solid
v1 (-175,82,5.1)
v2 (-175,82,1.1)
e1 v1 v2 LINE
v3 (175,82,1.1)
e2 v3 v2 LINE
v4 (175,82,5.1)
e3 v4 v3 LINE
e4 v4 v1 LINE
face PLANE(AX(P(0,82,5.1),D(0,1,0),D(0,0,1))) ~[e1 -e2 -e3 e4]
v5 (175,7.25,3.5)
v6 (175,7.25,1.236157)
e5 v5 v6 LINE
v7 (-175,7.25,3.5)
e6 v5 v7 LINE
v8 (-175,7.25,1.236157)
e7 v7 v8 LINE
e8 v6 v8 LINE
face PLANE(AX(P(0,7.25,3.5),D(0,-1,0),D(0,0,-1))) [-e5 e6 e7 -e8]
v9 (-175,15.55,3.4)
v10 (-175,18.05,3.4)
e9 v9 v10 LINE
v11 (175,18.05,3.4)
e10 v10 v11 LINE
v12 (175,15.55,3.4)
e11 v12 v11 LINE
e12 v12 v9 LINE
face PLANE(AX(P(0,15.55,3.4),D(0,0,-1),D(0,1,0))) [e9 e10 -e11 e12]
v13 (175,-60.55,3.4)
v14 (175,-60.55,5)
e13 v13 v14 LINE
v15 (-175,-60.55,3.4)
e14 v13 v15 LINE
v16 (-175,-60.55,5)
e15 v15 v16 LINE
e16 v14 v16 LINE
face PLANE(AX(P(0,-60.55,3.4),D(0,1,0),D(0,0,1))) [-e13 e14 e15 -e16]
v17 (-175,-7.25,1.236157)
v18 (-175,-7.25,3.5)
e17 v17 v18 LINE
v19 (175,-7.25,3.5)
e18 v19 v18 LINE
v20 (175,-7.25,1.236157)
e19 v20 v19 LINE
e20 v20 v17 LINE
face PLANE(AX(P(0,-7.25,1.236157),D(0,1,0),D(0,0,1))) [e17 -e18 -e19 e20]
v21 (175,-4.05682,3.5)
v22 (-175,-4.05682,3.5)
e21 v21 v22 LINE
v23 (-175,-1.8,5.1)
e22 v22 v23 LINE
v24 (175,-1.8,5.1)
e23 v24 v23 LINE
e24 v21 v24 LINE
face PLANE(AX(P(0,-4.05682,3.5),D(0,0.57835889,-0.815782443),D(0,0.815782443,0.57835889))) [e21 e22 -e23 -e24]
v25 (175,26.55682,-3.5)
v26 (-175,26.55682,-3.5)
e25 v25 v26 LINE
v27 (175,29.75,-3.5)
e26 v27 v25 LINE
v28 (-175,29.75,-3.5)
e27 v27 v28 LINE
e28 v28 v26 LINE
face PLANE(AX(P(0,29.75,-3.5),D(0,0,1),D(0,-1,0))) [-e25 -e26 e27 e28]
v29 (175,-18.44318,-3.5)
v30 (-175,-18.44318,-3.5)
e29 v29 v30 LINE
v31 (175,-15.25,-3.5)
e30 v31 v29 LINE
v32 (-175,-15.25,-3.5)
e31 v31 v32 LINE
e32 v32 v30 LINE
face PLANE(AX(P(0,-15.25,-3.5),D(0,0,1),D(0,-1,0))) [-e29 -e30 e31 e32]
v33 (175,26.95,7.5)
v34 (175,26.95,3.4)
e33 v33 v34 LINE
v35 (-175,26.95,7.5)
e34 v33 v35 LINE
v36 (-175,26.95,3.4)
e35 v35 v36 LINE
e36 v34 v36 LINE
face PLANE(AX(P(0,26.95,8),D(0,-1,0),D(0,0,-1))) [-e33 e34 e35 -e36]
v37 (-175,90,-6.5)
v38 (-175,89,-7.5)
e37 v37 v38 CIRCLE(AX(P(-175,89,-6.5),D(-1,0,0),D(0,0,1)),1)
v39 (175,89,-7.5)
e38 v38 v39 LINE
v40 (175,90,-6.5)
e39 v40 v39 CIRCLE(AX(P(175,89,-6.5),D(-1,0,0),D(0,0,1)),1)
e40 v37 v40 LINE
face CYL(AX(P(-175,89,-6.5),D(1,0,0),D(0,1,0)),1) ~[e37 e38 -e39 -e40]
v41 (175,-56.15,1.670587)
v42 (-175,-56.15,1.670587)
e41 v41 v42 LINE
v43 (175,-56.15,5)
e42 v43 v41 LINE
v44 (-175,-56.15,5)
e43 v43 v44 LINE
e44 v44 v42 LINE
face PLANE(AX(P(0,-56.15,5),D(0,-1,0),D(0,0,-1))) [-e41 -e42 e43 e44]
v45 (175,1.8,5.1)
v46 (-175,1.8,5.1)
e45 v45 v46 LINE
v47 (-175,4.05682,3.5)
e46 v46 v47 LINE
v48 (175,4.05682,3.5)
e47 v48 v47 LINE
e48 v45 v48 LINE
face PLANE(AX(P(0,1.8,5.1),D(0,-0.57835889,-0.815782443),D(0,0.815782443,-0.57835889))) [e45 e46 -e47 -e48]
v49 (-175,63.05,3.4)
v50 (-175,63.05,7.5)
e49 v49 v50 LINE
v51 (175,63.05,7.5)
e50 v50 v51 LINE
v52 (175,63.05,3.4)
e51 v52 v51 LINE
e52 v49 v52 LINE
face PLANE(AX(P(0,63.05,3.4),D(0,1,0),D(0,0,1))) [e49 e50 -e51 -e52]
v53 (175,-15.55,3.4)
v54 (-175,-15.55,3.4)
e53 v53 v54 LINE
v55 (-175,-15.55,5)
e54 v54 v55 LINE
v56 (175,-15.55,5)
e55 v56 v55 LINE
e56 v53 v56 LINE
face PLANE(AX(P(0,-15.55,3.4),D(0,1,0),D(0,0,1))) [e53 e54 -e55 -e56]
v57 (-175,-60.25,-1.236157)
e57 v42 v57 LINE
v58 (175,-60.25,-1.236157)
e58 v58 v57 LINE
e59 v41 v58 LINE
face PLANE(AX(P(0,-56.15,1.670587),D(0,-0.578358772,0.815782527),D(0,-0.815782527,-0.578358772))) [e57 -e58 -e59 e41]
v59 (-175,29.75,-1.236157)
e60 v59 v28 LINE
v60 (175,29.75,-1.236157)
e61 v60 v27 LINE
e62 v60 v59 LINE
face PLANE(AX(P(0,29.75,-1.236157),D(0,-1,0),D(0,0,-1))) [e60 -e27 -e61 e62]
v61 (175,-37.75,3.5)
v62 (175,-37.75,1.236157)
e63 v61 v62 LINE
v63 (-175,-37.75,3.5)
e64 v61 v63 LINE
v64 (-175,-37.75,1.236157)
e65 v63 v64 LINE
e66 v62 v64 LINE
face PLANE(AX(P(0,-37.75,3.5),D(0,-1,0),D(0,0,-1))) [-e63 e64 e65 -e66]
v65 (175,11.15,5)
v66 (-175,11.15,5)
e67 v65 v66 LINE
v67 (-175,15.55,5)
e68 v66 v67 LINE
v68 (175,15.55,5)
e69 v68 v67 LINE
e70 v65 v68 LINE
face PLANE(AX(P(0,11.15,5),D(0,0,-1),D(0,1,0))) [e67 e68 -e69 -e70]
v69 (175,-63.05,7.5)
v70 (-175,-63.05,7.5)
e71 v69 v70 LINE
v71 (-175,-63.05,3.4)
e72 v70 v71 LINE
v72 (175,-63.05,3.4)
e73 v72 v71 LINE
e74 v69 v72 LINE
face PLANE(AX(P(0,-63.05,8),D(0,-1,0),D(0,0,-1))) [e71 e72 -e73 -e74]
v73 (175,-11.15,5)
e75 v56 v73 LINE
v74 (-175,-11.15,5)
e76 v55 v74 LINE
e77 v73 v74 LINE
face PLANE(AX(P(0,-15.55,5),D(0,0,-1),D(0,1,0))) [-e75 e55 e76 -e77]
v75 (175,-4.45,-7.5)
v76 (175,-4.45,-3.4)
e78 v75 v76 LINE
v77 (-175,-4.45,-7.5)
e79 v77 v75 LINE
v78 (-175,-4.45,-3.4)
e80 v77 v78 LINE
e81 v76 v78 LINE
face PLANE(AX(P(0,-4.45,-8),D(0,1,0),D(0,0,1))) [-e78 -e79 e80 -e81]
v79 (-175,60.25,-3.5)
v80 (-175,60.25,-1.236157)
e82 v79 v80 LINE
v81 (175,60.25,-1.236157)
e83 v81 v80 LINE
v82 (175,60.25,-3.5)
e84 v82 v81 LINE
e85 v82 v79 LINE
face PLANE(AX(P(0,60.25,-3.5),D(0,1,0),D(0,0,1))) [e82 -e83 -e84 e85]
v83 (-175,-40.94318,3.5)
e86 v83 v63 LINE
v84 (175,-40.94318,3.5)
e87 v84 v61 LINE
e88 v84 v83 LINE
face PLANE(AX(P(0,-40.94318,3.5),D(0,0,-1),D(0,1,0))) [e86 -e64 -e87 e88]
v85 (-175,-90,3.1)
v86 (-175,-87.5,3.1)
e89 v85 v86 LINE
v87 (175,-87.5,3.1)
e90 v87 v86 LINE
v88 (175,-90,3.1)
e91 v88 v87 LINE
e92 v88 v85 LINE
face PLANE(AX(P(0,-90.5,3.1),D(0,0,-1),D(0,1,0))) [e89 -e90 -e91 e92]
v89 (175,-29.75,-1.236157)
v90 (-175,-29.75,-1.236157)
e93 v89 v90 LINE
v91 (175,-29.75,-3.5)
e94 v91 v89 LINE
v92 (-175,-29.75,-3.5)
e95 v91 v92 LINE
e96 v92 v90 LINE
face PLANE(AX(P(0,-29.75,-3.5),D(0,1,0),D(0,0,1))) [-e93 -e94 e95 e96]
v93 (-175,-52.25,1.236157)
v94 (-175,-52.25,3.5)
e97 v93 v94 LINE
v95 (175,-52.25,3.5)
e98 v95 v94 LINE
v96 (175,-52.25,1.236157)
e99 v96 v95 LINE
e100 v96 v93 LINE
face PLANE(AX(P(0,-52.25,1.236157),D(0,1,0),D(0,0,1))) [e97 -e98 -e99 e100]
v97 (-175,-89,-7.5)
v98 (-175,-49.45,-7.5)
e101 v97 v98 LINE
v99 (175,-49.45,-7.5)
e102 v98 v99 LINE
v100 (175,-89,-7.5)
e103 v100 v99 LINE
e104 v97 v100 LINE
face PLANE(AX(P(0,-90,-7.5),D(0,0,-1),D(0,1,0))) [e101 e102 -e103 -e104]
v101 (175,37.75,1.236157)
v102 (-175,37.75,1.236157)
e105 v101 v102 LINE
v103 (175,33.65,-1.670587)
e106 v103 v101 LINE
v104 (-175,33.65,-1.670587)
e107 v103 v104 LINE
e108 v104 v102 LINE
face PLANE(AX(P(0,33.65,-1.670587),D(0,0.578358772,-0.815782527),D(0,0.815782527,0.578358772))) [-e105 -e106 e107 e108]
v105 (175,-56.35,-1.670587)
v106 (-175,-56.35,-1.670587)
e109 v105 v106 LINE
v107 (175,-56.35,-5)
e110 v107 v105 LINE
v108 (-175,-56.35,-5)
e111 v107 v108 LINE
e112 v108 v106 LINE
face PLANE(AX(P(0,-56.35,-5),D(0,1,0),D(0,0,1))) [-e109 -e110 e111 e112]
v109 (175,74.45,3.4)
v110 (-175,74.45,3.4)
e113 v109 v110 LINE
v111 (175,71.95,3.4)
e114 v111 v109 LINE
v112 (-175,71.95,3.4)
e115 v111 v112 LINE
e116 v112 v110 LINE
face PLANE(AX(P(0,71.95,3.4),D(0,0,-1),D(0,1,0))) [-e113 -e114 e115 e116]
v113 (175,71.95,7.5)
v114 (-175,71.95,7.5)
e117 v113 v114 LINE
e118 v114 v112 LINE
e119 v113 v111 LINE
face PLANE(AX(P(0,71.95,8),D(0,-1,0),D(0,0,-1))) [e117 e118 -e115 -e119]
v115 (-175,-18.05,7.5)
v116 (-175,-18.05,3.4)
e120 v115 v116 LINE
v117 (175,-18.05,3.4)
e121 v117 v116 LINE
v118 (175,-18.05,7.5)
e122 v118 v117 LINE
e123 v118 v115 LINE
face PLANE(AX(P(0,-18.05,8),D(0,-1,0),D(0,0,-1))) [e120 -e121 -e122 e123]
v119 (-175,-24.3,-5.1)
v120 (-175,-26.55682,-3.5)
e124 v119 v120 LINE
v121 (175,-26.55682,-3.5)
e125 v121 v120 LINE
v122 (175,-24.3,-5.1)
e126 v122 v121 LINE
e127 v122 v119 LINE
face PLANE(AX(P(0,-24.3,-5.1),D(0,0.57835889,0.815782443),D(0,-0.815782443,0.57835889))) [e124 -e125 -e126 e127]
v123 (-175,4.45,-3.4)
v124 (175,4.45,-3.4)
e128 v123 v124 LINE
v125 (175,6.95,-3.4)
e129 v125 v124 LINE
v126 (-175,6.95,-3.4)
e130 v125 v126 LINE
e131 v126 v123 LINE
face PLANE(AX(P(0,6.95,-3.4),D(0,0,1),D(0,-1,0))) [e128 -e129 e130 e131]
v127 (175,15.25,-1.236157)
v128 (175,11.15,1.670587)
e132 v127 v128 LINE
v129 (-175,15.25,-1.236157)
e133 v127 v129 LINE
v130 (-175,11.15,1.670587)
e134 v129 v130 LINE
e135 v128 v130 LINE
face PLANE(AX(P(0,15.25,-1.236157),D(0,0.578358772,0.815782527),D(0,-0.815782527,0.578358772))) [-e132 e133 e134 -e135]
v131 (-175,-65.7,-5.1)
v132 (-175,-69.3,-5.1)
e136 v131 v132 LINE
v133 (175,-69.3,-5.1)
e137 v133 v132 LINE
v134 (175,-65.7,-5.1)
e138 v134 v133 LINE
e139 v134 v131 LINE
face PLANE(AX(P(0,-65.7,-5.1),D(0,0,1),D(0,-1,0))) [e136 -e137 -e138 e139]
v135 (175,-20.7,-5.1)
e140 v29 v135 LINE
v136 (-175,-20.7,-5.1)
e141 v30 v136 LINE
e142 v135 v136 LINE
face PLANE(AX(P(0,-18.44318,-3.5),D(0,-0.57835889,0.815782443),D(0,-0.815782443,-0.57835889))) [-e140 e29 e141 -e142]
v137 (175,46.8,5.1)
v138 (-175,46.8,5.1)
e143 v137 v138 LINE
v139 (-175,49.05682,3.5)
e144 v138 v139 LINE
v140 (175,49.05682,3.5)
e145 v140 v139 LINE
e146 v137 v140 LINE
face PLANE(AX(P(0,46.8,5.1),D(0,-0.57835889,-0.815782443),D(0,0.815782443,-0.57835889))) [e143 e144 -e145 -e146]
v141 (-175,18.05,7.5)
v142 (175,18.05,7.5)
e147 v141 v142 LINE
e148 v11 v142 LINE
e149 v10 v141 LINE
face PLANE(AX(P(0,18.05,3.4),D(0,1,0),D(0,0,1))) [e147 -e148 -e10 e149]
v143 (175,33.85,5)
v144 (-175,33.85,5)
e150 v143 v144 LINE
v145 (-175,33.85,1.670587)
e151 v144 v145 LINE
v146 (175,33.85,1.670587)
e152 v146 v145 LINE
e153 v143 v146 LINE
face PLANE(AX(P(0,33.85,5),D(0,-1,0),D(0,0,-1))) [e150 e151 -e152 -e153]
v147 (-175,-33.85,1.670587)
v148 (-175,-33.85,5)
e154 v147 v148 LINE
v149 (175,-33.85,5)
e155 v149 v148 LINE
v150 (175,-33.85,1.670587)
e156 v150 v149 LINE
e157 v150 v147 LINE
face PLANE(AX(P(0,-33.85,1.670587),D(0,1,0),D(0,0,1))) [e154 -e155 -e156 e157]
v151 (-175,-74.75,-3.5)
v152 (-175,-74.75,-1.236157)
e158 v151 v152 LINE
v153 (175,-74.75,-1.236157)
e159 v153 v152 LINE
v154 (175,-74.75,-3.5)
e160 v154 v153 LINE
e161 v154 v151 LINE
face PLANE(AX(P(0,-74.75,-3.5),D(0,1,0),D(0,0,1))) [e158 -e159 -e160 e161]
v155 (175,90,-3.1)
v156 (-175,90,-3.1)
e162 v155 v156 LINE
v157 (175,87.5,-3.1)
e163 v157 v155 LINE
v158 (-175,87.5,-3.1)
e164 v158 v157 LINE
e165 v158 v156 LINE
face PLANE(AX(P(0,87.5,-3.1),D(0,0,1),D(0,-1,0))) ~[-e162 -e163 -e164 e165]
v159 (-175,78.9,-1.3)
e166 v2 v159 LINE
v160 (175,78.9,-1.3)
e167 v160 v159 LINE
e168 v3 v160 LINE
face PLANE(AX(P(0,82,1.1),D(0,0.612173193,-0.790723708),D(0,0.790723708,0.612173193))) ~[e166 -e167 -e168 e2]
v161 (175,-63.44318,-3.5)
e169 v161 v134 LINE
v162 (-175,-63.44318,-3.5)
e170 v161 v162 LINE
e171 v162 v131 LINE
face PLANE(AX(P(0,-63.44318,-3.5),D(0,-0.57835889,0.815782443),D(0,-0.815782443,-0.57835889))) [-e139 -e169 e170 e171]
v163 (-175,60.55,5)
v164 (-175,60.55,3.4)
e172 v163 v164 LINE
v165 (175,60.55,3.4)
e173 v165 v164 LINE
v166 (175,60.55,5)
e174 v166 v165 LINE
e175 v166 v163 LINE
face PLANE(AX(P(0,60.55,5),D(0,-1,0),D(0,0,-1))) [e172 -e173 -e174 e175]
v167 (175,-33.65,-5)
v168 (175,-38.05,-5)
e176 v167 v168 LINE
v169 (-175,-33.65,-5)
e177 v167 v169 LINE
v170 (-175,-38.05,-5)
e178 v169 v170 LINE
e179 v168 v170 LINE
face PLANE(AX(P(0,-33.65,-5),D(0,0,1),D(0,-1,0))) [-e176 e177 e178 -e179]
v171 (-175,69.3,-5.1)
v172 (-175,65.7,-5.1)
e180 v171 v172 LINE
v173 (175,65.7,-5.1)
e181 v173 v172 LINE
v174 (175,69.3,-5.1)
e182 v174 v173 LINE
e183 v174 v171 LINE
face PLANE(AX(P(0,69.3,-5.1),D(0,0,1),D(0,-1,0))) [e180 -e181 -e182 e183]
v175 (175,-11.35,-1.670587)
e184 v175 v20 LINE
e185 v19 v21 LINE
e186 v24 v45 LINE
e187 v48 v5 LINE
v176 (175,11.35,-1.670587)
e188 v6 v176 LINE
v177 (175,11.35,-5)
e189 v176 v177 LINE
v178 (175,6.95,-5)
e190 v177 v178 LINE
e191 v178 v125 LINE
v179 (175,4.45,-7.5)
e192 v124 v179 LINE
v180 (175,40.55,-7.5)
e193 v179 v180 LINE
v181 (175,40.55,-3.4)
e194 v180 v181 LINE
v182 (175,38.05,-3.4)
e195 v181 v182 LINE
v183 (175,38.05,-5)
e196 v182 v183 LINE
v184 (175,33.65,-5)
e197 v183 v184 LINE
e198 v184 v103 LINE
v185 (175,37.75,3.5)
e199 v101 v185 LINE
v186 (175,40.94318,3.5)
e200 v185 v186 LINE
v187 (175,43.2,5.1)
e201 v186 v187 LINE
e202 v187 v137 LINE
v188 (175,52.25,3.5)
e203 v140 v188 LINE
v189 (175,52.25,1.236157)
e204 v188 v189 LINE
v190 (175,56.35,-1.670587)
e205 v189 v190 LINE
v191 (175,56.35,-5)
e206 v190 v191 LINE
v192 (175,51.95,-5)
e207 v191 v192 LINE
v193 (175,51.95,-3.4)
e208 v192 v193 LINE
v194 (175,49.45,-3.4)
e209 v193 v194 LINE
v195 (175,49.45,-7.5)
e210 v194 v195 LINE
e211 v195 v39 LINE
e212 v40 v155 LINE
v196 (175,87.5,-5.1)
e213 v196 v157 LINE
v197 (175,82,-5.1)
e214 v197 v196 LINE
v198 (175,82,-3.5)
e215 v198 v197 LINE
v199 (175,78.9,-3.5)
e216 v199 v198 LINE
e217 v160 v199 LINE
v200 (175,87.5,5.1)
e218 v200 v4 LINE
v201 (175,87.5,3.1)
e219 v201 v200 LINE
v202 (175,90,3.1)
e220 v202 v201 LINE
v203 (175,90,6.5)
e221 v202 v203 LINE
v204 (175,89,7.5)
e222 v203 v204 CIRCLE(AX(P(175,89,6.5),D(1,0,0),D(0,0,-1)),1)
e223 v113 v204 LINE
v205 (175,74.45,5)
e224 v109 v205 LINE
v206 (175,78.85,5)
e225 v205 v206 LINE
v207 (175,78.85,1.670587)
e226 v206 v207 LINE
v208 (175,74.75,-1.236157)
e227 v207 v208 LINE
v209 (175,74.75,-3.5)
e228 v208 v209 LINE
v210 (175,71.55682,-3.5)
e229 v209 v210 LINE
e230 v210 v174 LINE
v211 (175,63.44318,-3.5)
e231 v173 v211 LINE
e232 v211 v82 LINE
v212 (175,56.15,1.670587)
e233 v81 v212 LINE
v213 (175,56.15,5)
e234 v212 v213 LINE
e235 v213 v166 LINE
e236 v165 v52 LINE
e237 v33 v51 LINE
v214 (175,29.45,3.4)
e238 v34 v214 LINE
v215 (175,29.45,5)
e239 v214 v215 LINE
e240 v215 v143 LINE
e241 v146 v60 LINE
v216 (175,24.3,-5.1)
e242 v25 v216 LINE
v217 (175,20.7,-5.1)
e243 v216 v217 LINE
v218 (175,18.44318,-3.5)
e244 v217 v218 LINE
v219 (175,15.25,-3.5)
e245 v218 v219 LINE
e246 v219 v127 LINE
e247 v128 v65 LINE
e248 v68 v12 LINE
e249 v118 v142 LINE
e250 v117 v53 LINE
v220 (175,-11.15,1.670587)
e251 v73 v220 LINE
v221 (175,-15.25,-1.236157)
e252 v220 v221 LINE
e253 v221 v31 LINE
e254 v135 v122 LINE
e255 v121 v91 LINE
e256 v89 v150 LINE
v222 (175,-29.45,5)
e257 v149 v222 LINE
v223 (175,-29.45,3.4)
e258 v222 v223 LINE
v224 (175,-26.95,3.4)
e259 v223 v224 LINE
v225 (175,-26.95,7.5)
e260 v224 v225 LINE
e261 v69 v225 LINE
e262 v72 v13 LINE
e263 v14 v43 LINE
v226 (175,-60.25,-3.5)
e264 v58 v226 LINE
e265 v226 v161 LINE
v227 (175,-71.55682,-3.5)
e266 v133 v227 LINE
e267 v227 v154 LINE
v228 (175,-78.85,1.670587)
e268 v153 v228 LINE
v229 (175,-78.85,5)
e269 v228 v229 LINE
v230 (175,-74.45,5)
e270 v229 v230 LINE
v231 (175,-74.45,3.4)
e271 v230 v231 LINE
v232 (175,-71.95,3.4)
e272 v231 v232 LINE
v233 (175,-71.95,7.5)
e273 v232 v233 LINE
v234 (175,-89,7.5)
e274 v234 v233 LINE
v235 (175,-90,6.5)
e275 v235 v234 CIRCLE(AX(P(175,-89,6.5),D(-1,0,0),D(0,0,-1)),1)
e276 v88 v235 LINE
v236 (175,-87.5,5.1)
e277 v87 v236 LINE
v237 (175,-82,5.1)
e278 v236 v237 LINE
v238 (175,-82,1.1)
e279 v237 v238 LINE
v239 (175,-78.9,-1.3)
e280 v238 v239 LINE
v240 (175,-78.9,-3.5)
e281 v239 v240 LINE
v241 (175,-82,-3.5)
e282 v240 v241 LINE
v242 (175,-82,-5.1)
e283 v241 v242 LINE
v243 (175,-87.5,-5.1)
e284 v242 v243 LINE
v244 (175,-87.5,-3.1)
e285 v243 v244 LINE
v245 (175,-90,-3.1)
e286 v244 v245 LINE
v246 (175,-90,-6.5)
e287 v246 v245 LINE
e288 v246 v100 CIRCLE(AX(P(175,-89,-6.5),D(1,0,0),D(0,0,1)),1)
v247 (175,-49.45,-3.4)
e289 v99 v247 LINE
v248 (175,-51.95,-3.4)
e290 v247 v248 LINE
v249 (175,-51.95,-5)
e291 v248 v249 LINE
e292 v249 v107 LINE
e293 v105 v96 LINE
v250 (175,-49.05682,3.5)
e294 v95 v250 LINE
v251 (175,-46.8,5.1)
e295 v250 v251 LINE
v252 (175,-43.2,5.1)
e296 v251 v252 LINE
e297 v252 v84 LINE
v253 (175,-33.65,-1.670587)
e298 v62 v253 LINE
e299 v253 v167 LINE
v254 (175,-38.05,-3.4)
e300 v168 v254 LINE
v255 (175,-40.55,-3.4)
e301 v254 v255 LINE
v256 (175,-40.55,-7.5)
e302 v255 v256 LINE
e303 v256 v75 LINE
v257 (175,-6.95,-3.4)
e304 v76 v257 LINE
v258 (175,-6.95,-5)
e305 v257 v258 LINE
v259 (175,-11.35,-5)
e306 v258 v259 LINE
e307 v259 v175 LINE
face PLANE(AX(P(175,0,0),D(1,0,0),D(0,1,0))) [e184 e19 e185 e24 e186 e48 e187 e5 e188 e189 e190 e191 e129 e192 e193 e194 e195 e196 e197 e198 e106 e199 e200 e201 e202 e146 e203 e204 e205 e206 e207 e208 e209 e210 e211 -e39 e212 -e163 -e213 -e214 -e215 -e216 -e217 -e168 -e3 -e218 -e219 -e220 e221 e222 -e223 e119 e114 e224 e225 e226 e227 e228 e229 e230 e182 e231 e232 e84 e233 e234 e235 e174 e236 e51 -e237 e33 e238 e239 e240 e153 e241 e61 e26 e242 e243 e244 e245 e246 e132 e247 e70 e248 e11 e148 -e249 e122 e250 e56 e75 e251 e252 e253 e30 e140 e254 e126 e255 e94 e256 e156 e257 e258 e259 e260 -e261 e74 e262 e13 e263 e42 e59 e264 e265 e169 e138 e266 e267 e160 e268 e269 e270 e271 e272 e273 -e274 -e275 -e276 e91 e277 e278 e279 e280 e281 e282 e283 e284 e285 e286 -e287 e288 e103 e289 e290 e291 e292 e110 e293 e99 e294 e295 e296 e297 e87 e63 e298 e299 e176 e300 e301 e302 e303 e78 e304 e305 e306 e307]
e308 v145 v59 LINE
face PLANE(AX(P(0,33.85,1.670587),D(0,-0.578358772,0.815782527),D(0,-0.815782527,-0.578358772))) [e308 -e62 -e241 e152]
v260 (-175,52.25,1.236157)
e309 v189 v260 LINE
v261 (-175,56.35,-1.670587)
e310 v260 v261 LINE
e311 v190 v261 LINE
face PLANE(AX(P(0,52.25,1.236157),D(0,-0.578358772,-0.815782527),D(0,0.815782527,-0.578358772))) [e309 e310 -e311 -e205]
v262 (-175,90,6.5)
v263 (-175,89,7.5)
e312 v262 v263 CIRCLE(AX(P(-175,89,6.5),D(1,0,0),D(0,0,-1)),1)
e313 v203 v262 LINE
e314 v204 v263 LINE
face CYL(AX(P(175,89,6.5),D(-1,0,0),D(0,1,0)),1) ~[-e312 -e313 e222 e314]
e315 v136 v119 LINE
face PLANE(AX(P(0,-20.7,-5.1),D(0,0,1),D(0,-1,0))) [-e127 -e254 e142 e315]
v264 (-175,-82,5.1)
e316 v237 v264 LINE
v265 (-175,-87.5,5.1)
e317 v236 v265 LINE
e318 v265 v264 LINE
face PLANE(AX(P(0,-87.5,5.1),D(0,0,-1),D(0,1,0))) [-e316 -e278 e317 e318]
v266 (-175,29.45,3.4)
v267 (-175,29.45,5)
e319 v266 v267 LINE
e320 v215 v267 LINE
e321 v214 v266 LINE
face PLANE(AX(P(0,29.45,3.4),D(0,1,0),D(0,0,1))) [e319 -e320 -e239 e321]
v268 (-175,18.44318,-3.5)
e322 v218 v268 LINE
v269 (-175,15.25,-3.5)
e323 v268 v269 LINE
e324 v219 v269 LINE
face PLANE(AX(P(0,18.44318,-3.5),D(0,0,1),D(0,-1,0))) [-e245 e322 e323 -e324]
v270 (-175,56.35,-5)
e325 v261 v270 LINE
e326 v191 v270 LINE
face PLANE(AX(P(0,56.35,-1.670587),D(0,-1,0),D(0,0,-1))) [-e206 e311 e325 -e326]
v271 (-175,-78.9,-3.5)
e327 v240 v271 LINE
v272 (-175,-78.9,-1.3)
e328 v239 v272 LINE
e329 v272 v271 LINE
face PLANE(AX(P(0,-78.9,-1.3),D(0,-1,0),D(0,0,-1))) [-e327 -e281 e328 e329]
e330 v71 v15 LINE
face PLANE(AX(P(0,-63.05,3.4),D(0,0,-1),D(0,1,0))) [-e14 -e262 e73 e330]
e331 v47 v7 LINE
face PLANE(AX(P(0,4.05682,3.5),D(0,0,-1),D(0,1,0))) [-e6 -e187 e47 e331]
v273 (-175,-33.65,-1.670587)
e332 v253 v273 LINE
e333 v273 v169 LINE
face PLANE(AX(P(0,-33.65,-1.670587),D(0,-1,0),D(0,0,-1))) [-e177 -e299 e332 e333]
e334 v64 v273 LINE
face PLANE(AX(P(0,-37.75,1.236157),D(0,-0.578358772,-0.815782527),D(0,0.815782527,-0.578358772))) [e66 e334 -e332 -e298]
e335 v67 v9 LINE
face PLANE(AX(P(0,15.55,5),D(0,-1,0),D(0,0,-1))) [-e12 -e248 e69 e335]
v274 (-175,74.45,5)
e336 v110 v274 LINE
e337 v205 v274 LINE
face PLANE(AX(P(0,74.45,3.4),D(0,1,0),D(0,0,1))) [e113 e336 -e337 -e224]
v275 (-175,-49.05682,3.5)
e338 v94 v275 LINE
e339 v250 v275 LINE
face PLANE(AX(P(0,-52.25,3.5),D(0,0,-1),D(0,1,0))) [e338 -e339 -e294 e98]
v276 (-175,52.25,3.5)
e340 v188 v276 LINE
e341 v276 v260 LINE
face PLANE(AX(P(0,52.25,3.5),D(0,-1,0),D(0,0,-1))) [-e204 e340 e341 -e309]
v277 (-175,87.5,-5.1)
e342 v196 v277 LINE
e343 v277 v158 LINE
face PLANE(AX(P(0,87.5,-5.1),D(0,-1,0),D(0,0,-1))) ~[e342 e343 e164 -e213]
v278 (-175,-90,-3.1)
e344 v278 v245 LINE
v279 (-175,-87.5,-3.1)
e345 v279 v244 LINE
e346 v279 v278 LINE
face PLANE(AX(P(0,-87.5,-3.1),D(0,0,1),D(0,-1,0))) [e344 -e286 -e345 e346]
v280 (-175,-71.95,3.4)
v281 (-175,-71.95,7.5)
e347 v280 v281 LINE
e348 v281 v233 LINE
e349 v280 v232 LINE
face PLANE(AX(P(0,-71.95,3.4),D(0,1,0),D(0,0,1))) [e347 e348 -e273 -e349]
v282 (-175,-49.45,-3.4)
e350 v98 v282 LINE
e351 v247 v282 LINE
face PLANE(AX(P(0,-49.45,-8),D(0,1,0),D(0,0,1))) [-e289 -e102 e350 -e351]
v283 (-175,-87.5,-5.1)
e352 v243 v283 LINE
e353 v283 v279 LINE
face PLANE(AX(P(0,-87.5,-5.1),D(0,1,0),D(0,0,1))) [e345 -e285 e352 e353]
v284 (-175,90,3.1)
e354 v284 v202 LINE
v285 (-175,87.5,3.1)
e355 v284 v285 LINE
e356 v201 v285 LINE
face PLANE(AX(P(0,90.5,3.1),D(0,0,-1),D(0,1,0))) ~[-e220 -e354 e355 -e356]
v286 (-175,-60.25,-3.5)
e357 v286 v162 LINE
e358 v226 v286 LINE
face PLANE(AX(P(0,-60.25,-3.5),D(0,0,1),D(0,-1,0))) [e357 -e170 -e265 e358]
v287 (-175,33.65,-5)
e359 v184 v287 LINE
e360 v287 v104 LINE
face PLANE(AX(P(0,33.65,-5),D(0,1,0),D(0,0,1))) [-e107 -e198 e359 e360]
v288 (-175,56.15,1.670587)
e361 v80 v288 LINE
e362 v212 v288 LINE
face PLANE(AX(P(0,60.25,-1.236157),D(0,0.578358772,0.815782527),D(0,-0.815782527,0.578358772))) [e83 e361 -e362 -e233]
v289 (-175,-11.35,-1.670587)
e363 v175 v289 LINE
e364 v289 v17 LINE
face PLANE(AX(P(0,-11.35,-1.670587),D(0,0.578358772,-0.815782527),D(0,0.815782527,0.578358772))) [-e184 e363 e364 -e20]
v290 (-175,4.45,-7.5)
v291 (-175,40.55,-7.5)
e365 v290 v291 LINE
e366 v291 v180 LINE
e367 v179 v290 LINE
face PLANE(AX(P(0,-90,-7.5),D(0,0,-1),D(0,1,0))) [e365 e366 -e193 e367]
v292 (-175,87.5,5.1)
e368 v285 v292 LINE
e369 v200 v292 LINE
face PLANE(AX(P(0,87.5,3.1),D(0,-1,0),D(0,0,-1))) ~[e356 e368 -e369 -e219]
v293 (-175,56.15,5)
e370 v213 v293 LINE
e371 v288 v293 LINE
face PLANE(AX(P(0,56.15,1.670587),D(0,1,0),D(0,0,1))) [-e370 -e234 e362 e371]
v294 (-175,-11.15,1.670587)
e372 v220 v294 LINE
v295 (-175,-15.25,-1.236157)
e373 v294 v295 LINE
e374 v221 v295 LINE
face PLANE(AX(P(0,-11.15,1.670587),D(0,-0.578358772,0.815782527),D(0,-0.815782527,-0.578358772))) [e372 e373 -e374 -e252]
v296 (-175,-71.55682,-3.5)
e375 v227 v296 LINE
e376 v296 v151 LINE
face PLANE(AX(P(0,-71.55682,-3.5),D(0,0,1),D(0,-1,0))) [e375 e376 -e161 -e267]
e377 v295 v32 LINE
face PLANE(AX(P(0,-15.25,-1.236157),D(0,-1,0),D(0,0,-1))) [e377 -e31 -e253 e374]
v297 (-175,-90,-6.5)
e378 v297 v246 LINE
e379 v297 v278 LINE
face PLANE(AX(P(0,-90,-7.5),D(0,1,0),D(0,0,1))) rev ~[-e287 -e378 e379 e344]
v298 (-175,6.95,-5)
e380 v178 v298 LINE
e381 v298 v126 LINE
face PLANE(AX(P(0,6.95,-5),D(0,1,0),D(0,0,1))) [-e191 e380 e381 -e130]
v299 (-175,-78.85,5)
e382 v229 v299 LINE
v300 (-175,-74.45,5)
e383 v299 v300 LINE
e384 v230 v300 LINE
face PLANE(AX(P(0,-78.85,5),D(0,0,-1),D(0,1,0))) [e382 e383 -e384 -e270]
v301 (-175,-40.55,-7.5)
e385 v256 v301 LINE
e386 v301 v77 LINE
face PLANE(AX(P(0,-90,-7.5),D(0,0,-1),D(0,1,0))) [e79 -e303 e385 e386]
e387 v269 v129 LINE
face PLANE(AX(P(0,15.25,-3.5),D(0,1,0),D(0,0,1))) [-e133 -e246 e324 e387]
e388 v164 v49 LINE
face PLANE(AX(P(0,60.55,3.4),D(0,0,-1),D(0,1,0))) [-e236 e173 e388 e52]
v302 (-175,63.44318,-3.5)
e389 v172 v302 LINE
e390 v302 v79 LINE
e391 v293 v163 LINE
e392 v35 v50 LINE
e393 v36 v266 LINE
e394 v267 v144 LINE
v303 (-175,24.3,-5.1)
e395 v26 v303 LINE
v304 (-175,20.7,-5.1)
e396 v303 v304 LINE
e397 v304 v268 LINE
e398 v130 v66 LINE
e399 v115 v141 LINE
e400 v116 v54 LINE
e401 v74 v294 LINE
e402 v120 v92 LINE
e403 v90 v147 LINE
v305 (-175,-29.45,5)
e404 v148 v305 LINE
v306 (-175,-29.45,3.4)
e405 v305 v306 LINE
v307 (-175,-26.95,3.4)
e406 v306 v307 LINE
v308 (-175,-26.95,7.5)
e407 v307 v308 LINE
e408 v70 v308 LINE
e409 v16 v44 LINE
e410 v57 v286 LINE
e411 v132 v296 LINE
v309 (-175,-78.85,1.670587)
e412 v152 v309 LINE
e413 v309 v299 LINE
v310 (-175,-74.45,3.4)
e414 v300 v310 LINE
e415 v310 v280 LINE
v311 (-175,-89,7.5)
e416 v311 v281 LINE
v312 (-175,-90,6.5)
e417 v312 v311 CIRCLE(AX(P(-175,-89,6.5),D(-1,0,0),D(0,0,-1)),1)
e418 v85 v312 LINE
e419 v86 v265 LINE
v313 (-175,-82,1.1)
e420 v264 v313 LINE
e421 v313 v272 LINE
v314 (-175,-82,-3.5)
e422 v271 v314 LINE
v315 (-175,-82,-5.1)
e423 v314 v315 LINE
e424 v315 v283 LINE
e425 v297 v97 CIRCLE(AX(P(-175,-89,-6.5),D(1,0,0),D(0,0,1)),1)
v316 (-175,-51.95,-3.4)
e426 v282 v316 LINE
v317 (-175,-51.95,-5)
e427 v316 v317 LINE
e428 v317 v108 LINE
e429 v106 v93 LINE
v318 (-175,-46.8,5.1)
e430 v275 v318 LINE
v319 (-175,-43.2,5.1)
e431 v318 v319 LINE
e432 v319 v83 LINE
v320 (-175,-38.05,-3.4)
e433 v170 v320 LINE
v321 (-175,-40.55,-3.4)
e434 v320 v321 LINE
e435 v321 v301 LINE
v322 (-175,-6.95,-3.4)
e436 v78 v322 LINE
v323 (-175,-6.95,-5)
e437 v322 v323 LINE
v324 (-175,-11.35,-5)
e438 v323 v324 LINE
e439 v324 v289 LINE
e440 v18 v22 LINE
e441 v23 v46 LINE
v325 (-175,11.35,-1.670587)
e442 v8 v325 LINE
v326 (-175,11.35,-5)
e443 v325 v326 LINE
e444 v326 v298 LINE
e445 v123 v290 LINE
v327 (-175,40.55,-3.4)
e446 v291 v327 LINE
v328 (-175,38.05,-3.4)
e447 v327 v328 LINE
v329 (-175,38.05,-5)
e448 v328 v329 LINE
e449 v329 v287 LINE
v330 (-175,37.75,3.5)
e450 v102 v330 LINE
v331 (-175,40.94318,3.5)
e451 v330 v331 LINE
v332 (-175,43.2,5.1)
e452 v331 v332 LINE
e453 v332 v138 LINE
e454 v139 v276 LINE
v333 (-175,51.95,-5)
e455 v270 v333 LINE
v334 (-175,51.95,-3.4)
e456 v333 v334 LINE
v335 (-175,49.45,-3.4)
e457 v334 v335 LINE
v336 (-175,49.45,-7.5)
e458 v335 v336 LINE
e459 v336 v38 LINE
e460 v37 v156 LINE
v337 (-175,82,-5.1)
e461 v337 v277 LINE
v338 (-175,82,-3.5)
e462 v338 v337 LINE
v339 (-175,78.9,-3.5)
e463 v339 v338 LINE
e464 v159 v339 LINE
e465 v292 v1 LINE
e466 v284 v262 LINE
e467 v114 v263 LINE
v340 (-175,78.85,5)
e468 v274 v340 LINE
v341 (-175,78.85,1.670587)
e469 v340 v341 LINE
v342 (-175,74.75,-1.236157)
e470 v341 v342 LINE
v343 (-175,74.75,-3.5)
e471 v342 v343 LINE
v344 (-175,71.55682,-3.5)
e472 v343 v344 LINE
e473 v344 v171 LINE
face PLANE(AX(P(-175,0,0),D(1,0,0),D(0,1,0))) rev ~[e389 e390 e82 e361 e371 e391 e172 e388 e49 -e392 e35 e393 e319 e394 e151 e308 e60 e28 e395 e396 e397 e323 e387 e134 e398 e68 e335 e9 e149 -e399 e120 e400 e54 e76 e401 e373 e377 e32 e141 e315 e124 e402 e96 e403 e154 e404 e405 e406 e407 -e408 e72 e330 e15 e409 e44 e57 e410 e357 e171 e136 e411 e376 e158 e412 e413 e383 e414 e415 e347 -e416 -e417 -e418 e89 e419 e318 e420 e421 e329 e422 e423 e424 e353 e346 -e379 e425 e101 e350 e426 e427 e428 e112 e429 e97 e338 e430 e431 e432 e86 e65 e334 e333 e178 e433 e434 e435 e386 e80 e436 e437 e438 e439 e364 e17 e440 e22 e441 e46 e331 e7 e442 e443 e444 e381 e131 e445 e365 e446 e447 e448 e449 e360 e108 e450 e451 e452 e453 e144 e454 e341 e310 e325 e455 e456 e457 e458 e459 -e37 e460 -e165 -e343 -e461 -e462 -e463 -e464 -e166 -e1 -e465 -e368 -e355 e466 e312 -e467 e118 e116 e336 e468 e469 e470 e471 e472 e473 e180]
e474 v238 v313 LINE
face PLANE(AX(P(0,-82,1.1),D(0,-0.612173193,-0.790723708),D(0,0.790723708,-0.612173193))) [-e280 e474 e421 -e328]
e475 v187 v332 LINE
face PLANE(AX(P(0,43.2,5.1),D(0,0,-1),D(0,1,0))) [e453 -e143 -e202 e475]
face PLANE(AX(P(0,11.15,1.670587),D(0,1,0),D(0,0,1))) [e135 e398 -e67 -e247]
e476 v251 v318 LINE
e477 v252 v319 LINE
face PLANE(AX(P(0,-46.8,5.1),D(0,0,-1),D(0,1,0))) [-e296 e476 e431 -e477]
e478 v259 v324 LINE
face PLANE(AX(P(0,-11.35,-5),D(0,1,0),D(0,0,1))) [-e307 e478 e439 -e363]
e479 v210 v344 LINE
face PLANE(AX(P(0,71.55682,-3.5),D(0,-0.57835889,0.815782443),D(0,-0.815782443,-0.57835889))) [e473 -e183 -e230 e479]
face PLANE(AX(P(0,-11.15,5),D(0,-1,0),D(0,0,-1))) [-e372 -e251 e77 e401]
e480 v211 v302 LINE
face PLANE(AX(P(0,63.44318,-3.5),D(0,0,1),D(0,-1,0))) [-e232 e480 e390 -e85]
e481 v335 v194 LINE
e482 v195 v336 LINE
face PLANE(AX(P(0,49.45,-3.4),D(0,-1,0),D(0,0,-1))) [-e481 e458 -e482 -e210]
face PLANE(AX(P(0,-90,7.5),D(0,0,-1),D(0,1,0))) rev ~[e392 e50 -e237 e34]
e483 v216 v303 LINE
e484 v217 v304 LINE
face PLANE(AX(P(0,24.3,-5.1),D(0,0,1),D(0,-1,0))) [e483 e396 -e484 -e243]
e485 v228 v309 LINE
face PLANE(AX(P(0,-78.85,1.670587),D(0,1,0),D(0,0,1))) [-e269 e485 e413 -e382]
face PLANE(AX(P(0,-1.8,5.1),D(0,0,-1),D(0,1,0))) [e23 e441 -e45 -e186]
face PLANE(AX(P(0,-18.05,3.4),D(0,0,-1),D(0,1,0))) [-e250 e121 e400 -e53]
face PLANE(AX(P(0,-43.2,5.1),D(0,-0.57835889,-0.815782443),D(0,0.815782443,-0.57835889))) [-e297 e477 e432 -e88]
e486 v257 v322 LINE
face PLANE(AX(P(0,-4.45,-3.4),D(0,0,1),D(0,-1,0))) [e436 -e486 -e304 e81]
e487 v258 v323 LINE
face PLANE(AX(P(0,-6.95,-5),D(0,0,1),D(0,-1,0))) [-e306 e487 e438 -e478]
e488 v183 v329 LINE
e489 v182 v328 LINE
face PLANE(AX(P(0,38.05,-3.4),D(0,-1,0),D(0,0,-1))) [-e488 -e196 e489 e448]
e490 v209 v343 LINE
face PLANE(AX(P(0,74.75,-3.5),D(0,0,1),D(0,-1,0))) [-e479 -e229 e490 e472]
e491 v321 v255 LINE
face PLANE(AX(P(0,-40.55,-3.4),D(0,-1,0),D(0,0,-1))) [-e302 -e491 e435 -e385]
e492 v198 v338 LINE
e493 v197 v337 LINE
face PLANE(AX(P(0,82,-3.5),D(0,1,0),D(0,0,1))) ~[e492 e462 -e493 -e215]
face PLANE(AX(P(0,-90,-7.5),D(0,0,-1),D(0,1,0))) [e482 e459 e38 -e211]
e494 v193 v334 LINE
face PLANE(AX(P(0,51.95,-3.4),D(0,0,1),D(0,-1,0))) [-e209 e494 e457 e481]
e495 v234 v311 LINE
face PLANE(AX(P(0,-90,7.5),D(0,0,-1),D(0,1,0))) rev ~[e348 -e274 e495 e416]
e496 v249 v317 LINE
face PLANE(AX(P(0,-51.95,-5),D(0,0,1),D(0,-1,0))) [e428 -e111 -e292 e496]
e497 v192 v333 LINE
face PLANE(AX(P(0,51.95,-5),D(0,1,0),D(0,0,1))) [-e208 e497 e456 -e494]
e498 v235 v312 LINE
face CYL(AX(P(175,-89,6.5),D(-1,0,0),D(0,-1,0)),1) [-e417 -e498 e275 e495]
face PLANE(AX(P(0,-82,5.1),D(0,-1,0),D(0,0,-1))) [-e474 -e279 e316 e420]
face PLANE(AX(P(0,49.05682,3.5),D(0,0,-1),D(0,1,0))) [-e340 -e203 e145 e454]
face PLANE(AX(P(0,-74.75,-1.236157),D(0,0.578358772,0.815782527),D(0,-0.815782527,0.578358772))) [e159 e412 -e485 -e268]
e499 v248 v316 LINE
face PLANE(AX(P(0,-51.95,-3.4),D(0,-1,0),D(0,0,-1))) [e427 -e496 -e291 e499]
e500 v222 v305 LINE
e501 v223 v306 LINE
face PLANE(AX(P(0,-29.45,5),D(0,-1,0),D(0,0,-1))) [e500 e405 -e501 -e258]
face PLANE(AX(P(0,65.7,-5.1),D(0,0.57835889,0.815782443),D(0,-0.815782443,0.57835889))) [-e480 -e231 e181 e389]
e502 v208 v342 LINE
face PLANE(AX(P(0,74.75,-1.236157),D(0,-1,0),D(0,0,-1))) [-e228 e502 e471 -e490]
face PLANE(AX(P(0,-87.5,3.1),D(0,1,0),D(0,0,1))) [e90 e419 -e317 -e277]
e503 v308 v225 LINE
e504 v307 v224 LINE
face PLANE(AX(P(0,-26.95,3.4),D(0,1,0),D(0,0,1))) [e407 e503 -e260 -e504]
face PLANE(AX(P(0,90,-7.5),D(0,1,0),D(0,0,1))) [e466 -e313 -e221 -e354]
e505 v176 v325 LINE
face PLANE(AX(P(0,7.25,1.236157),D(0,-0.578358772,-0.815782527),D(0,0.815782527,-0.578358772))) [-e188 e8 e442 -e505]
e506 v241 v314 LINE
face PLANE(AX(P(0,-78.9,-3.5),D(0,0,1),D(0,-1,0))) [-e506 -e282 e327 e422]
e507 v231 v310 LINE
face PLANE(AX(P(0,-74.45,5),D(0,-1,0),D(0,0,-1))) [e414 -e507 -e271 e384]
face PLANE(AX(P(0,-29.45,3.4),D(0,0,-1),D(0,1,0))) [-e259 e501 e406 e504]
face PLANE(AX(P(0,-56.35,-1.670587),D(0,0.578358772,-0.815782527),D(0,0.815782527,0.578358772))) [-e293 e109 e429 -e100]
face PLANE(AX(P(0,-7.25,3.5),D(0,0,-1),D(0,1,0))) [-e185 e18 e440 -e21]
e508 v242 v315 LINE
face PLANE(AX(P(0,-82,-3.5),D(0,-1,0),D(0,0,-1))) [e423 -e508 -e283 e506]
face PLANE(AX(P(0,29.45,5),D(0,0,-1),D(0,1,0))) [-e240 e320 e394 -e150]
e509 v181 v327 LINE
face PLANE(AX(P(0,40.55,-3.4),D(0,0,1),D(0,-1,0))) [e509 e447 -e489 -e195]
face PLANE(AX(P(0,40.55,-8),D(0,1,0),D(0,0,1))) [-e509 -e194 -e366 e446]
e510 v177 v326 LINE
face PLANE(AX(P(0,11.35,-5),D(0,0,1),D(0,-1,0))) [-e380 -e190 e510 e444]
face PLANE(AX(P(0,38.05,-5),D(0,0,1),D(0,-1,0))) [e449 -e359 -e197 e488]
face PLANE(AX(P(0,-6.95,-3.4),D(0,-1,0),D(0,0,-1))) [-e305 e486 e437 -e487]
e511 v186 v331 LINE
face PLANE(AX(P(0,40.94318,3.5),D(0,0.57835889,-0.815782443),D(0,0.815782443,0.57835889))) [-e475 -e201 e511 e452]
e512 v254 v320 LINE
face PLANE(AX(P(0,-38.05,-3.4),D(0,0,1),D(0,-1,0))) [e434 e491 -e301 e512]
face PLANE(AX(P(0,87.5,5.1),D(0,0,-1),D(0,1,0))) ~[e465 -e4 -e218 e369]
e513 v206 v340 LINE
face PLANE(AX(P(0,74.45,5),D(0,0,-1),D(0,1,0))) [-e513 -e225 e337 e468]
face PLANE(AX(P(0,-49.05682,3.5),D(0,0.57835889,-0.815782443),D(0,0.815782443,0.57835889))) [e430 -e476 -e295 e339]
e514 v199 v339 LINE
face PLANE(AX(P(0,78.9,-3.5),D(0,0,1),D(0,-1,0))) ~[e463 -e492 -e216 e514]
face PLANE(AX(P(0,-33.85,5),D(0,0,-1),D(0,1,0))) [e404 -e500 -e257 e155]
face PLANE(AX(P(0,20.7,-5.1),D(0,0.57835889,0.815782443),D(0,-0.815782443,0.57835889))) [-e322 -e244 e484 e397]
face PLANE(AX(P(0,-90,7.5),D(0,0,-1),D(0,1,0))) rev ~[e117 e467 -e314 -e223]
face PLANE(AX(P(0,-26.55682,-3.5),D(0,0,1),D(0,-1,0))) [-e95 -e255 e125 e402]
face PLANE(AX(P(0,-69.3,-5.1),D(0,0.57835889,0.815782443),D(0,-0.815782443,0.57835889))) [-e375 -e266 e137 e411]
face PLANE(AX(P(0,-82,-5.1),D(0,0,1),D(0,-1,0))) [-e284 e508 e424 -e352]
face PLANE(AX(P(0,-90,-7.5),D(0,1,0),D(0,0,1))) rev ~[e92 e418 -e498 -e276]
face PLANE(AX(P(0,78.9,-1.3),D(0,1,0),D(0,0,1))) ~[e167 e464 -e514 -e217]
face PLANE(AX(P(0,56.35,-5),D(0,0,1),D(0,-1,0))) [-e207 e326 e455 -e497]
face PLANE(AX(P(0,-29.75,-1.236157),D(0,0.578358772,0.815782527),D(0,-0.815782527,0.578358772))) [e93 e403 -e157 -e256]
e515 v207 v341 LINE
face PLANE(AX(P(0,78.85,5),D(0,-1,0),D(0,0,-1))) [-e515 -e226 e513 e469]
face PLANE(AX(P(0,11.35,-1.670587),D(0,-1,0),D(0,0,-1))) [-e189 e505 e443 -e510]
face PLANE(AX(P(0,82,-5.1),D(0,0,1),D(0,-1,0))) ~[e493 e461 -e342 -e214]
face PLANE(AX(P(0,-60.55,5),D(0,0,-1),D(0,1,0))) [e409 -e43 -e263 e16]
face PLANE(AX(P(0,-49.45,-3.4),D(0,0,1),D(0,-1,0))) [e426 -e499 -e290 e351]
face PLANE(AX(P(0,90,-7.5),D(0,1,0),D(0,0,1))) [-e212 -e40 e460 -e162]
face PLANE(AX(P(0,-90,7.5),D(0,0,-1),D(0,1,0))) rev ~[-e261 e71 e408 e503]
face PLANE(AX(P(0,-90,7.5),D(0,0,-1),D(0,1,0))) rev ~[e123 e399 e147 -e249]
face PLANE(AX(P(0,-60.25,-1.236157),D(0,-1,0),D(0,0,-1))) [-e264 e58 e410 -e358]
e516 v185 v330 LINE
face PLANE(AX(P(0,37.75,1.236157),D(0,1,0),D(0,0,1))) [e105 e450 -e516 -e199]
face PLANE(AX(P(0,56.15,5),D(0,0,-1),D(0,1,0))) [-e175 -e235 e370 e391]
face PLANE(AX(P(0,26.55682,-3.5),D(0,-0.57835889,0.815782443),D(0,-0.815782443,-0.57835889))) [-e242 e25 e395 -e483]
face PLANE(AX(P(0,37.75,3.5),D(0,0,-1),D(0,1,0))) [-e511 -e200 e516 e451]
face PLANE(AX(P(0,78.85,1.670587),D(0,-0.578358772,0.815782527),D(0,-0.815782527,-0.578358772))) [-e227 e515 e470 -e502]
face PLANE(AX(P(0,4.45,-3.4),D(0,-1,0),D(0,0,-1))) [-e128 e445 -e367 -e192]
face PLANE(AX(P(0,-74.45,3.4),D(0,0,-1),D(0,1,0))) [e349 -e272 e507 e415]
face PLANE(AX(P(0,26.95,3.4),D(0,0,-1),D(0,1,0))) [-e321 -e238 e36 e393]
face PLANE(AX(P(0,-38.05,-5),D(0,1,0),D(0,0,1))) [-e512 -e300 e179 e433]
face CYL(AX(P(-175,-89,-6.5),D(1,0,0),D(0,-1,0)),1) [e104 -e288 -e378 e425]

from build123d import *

# Parameters (mm, degrees)
PAD002_DEPTH            = 200
BODY002_PLACEMENT_ANGLE = 180
ARRAY001_Y_COUNT        = 4
ARRAY001_Y_PITCH        = 45
PAD001_DEPTH            = 200
ARRAY_Y_COUNT           = 3
ARRAY_Y_PITCH           = 45
PAD003_DEPTH            = 200
SKETCH_W                = 180
SKETCH_H                = 15
PAD_DEPTH               = 175
FILLET_R                = 1


with BuildPart() as array001:
    # Sketch002 → Pad002 (new body, symmetric)
    with BuildSketch(Plane.YZ):
        Polygon((-4.45, -8), (-4.45, -3.4), (-6.95, -3.4), (-6.95, -5), (-11.35, -5), (-11.35, -1.670587), (-7.25, 1.236157), (-7.25, 3.5), (-4.05682, 3.5), (-1.8, 5.1), (1.8, 5.1), (4.05682, 3.5), (7.25, 3.5), (7.25, 1.236157), (11.35, -1.670587), (11.35, -5), (6.95, -5), (6.95, -3.4), (4.45, -3.4), (4.45, -8), align=None)
    extrude(amount=PAD002_DEPTH, both=True)


with BuildPart() as array001_1:
    # Body002 placement: moved
    add(array001.part.moved(Location((0, -67.5, 0))).rotate(Axis((0, -67.5, 0), (1, 0, 0)), BODY002_PLACEMENT_ANGLE))

    # Array001 Y: Array001 ×4


with BuildPart() as array001_2:
    add(array001_1.part)
    with Locations(*[(0, i * ARRAY001_Y_PITCH, 0) for i in range(1, ARRAY001_Y_COUNT)]):
        add(array001_1.part)


with BuildPart() as array:
    # Sketch001 → Pad001 (new body, symmetric)
    with BuildSketch(Plane.YZ):
        Polygon((-4.45, -8), (-4.45, -3.4), (-6.95, -3.4), (-6.95, -5), (-11.35, -5), (-11.35, -1.670587), (-7.25, 1.236157), (-7.25, 3.5), (-4.05682, 3.5), (-1.8, 5.1), (1.8, 5.1), (4.05682, 3.5), (7.25, 3.5), (7.25, 1.236157), (11.35, -1.670587), (11.35, -5), (6.95, -5), (6.95, -3.4), (4.45, -3.4), (4.45, -8), align=None)
    extrude(amount=PAD001_DEPTH, both=True)


with BuildPart() as array_1:
    # Body001 placement: moved
    add(array.part.moved(Location((0, -45, 0))))

    # Array Y: Array ×3


with BuildPart() as array_2:
    add(array_1.part)
    with Locations(*[(0, i * ARRAY_Y_PITCH, 0) for i in range(1, ARRAY_Y_COUNT)]):
        add(array_1.part)


with BuildPart() as body003:
    # Sketch003 → Pad003 (new body, symmetric)
    with BuildSketch(Plane.YZ):
        Polygon((-90.5, 3.1), (-87.5, 3.1), (-87.5, 5.1), (-82, 5.1), (-82, 1.1), (-78.9, -1.3), (-78.9, -3.5), (-82, -3.5), (-82, -5.1), (-87.5, -5.1), (-87.5, -3.1), (-90.5, -3.1), align=None)
    extrude(amount=PAD003_DEPTH, both=True)


with BuildPart() as fusion:
    # Part__Mirroring: instance of Body003
    add(body003.part.mirror(Plane(origin=(0, 0, 0), x_dir=(1, 0, 0), z_dir=(0, 1, 0))))

    # Fusion: union Body003
    add(body003.part)


with BuildPart() as cut002:
    # Sketch → Pad (new body, symmetric)
    with BuildSketch(Plane.YZ):
        Rectangle(SKETCH_W, SKETCH_H)
    extrude(amount=PAD_DEPTH, both=True)

    # Fillet
    fillet_edges = [cut002.edges().sort_by_distance(p)[0] for p in [
        (0, -90, 7.5),
        (0, -90, -7.5),
        (0, 90, 7.5),
        (0, 90, -7.5),
    ]]
    fillet(fillet_edges, radius=FILLET_R)

    # Cut: cut Fusion
    add(fusion.part, mode=Mode.SUBTRACT)

    # Cut001: cut Array
    add(array_2.part, mode=Mode.SUBTRACT)

    # Cut002: cut Array001
    add(array001_2.part, mode=Mode.SUBTRACT)


solid = cut002.part
